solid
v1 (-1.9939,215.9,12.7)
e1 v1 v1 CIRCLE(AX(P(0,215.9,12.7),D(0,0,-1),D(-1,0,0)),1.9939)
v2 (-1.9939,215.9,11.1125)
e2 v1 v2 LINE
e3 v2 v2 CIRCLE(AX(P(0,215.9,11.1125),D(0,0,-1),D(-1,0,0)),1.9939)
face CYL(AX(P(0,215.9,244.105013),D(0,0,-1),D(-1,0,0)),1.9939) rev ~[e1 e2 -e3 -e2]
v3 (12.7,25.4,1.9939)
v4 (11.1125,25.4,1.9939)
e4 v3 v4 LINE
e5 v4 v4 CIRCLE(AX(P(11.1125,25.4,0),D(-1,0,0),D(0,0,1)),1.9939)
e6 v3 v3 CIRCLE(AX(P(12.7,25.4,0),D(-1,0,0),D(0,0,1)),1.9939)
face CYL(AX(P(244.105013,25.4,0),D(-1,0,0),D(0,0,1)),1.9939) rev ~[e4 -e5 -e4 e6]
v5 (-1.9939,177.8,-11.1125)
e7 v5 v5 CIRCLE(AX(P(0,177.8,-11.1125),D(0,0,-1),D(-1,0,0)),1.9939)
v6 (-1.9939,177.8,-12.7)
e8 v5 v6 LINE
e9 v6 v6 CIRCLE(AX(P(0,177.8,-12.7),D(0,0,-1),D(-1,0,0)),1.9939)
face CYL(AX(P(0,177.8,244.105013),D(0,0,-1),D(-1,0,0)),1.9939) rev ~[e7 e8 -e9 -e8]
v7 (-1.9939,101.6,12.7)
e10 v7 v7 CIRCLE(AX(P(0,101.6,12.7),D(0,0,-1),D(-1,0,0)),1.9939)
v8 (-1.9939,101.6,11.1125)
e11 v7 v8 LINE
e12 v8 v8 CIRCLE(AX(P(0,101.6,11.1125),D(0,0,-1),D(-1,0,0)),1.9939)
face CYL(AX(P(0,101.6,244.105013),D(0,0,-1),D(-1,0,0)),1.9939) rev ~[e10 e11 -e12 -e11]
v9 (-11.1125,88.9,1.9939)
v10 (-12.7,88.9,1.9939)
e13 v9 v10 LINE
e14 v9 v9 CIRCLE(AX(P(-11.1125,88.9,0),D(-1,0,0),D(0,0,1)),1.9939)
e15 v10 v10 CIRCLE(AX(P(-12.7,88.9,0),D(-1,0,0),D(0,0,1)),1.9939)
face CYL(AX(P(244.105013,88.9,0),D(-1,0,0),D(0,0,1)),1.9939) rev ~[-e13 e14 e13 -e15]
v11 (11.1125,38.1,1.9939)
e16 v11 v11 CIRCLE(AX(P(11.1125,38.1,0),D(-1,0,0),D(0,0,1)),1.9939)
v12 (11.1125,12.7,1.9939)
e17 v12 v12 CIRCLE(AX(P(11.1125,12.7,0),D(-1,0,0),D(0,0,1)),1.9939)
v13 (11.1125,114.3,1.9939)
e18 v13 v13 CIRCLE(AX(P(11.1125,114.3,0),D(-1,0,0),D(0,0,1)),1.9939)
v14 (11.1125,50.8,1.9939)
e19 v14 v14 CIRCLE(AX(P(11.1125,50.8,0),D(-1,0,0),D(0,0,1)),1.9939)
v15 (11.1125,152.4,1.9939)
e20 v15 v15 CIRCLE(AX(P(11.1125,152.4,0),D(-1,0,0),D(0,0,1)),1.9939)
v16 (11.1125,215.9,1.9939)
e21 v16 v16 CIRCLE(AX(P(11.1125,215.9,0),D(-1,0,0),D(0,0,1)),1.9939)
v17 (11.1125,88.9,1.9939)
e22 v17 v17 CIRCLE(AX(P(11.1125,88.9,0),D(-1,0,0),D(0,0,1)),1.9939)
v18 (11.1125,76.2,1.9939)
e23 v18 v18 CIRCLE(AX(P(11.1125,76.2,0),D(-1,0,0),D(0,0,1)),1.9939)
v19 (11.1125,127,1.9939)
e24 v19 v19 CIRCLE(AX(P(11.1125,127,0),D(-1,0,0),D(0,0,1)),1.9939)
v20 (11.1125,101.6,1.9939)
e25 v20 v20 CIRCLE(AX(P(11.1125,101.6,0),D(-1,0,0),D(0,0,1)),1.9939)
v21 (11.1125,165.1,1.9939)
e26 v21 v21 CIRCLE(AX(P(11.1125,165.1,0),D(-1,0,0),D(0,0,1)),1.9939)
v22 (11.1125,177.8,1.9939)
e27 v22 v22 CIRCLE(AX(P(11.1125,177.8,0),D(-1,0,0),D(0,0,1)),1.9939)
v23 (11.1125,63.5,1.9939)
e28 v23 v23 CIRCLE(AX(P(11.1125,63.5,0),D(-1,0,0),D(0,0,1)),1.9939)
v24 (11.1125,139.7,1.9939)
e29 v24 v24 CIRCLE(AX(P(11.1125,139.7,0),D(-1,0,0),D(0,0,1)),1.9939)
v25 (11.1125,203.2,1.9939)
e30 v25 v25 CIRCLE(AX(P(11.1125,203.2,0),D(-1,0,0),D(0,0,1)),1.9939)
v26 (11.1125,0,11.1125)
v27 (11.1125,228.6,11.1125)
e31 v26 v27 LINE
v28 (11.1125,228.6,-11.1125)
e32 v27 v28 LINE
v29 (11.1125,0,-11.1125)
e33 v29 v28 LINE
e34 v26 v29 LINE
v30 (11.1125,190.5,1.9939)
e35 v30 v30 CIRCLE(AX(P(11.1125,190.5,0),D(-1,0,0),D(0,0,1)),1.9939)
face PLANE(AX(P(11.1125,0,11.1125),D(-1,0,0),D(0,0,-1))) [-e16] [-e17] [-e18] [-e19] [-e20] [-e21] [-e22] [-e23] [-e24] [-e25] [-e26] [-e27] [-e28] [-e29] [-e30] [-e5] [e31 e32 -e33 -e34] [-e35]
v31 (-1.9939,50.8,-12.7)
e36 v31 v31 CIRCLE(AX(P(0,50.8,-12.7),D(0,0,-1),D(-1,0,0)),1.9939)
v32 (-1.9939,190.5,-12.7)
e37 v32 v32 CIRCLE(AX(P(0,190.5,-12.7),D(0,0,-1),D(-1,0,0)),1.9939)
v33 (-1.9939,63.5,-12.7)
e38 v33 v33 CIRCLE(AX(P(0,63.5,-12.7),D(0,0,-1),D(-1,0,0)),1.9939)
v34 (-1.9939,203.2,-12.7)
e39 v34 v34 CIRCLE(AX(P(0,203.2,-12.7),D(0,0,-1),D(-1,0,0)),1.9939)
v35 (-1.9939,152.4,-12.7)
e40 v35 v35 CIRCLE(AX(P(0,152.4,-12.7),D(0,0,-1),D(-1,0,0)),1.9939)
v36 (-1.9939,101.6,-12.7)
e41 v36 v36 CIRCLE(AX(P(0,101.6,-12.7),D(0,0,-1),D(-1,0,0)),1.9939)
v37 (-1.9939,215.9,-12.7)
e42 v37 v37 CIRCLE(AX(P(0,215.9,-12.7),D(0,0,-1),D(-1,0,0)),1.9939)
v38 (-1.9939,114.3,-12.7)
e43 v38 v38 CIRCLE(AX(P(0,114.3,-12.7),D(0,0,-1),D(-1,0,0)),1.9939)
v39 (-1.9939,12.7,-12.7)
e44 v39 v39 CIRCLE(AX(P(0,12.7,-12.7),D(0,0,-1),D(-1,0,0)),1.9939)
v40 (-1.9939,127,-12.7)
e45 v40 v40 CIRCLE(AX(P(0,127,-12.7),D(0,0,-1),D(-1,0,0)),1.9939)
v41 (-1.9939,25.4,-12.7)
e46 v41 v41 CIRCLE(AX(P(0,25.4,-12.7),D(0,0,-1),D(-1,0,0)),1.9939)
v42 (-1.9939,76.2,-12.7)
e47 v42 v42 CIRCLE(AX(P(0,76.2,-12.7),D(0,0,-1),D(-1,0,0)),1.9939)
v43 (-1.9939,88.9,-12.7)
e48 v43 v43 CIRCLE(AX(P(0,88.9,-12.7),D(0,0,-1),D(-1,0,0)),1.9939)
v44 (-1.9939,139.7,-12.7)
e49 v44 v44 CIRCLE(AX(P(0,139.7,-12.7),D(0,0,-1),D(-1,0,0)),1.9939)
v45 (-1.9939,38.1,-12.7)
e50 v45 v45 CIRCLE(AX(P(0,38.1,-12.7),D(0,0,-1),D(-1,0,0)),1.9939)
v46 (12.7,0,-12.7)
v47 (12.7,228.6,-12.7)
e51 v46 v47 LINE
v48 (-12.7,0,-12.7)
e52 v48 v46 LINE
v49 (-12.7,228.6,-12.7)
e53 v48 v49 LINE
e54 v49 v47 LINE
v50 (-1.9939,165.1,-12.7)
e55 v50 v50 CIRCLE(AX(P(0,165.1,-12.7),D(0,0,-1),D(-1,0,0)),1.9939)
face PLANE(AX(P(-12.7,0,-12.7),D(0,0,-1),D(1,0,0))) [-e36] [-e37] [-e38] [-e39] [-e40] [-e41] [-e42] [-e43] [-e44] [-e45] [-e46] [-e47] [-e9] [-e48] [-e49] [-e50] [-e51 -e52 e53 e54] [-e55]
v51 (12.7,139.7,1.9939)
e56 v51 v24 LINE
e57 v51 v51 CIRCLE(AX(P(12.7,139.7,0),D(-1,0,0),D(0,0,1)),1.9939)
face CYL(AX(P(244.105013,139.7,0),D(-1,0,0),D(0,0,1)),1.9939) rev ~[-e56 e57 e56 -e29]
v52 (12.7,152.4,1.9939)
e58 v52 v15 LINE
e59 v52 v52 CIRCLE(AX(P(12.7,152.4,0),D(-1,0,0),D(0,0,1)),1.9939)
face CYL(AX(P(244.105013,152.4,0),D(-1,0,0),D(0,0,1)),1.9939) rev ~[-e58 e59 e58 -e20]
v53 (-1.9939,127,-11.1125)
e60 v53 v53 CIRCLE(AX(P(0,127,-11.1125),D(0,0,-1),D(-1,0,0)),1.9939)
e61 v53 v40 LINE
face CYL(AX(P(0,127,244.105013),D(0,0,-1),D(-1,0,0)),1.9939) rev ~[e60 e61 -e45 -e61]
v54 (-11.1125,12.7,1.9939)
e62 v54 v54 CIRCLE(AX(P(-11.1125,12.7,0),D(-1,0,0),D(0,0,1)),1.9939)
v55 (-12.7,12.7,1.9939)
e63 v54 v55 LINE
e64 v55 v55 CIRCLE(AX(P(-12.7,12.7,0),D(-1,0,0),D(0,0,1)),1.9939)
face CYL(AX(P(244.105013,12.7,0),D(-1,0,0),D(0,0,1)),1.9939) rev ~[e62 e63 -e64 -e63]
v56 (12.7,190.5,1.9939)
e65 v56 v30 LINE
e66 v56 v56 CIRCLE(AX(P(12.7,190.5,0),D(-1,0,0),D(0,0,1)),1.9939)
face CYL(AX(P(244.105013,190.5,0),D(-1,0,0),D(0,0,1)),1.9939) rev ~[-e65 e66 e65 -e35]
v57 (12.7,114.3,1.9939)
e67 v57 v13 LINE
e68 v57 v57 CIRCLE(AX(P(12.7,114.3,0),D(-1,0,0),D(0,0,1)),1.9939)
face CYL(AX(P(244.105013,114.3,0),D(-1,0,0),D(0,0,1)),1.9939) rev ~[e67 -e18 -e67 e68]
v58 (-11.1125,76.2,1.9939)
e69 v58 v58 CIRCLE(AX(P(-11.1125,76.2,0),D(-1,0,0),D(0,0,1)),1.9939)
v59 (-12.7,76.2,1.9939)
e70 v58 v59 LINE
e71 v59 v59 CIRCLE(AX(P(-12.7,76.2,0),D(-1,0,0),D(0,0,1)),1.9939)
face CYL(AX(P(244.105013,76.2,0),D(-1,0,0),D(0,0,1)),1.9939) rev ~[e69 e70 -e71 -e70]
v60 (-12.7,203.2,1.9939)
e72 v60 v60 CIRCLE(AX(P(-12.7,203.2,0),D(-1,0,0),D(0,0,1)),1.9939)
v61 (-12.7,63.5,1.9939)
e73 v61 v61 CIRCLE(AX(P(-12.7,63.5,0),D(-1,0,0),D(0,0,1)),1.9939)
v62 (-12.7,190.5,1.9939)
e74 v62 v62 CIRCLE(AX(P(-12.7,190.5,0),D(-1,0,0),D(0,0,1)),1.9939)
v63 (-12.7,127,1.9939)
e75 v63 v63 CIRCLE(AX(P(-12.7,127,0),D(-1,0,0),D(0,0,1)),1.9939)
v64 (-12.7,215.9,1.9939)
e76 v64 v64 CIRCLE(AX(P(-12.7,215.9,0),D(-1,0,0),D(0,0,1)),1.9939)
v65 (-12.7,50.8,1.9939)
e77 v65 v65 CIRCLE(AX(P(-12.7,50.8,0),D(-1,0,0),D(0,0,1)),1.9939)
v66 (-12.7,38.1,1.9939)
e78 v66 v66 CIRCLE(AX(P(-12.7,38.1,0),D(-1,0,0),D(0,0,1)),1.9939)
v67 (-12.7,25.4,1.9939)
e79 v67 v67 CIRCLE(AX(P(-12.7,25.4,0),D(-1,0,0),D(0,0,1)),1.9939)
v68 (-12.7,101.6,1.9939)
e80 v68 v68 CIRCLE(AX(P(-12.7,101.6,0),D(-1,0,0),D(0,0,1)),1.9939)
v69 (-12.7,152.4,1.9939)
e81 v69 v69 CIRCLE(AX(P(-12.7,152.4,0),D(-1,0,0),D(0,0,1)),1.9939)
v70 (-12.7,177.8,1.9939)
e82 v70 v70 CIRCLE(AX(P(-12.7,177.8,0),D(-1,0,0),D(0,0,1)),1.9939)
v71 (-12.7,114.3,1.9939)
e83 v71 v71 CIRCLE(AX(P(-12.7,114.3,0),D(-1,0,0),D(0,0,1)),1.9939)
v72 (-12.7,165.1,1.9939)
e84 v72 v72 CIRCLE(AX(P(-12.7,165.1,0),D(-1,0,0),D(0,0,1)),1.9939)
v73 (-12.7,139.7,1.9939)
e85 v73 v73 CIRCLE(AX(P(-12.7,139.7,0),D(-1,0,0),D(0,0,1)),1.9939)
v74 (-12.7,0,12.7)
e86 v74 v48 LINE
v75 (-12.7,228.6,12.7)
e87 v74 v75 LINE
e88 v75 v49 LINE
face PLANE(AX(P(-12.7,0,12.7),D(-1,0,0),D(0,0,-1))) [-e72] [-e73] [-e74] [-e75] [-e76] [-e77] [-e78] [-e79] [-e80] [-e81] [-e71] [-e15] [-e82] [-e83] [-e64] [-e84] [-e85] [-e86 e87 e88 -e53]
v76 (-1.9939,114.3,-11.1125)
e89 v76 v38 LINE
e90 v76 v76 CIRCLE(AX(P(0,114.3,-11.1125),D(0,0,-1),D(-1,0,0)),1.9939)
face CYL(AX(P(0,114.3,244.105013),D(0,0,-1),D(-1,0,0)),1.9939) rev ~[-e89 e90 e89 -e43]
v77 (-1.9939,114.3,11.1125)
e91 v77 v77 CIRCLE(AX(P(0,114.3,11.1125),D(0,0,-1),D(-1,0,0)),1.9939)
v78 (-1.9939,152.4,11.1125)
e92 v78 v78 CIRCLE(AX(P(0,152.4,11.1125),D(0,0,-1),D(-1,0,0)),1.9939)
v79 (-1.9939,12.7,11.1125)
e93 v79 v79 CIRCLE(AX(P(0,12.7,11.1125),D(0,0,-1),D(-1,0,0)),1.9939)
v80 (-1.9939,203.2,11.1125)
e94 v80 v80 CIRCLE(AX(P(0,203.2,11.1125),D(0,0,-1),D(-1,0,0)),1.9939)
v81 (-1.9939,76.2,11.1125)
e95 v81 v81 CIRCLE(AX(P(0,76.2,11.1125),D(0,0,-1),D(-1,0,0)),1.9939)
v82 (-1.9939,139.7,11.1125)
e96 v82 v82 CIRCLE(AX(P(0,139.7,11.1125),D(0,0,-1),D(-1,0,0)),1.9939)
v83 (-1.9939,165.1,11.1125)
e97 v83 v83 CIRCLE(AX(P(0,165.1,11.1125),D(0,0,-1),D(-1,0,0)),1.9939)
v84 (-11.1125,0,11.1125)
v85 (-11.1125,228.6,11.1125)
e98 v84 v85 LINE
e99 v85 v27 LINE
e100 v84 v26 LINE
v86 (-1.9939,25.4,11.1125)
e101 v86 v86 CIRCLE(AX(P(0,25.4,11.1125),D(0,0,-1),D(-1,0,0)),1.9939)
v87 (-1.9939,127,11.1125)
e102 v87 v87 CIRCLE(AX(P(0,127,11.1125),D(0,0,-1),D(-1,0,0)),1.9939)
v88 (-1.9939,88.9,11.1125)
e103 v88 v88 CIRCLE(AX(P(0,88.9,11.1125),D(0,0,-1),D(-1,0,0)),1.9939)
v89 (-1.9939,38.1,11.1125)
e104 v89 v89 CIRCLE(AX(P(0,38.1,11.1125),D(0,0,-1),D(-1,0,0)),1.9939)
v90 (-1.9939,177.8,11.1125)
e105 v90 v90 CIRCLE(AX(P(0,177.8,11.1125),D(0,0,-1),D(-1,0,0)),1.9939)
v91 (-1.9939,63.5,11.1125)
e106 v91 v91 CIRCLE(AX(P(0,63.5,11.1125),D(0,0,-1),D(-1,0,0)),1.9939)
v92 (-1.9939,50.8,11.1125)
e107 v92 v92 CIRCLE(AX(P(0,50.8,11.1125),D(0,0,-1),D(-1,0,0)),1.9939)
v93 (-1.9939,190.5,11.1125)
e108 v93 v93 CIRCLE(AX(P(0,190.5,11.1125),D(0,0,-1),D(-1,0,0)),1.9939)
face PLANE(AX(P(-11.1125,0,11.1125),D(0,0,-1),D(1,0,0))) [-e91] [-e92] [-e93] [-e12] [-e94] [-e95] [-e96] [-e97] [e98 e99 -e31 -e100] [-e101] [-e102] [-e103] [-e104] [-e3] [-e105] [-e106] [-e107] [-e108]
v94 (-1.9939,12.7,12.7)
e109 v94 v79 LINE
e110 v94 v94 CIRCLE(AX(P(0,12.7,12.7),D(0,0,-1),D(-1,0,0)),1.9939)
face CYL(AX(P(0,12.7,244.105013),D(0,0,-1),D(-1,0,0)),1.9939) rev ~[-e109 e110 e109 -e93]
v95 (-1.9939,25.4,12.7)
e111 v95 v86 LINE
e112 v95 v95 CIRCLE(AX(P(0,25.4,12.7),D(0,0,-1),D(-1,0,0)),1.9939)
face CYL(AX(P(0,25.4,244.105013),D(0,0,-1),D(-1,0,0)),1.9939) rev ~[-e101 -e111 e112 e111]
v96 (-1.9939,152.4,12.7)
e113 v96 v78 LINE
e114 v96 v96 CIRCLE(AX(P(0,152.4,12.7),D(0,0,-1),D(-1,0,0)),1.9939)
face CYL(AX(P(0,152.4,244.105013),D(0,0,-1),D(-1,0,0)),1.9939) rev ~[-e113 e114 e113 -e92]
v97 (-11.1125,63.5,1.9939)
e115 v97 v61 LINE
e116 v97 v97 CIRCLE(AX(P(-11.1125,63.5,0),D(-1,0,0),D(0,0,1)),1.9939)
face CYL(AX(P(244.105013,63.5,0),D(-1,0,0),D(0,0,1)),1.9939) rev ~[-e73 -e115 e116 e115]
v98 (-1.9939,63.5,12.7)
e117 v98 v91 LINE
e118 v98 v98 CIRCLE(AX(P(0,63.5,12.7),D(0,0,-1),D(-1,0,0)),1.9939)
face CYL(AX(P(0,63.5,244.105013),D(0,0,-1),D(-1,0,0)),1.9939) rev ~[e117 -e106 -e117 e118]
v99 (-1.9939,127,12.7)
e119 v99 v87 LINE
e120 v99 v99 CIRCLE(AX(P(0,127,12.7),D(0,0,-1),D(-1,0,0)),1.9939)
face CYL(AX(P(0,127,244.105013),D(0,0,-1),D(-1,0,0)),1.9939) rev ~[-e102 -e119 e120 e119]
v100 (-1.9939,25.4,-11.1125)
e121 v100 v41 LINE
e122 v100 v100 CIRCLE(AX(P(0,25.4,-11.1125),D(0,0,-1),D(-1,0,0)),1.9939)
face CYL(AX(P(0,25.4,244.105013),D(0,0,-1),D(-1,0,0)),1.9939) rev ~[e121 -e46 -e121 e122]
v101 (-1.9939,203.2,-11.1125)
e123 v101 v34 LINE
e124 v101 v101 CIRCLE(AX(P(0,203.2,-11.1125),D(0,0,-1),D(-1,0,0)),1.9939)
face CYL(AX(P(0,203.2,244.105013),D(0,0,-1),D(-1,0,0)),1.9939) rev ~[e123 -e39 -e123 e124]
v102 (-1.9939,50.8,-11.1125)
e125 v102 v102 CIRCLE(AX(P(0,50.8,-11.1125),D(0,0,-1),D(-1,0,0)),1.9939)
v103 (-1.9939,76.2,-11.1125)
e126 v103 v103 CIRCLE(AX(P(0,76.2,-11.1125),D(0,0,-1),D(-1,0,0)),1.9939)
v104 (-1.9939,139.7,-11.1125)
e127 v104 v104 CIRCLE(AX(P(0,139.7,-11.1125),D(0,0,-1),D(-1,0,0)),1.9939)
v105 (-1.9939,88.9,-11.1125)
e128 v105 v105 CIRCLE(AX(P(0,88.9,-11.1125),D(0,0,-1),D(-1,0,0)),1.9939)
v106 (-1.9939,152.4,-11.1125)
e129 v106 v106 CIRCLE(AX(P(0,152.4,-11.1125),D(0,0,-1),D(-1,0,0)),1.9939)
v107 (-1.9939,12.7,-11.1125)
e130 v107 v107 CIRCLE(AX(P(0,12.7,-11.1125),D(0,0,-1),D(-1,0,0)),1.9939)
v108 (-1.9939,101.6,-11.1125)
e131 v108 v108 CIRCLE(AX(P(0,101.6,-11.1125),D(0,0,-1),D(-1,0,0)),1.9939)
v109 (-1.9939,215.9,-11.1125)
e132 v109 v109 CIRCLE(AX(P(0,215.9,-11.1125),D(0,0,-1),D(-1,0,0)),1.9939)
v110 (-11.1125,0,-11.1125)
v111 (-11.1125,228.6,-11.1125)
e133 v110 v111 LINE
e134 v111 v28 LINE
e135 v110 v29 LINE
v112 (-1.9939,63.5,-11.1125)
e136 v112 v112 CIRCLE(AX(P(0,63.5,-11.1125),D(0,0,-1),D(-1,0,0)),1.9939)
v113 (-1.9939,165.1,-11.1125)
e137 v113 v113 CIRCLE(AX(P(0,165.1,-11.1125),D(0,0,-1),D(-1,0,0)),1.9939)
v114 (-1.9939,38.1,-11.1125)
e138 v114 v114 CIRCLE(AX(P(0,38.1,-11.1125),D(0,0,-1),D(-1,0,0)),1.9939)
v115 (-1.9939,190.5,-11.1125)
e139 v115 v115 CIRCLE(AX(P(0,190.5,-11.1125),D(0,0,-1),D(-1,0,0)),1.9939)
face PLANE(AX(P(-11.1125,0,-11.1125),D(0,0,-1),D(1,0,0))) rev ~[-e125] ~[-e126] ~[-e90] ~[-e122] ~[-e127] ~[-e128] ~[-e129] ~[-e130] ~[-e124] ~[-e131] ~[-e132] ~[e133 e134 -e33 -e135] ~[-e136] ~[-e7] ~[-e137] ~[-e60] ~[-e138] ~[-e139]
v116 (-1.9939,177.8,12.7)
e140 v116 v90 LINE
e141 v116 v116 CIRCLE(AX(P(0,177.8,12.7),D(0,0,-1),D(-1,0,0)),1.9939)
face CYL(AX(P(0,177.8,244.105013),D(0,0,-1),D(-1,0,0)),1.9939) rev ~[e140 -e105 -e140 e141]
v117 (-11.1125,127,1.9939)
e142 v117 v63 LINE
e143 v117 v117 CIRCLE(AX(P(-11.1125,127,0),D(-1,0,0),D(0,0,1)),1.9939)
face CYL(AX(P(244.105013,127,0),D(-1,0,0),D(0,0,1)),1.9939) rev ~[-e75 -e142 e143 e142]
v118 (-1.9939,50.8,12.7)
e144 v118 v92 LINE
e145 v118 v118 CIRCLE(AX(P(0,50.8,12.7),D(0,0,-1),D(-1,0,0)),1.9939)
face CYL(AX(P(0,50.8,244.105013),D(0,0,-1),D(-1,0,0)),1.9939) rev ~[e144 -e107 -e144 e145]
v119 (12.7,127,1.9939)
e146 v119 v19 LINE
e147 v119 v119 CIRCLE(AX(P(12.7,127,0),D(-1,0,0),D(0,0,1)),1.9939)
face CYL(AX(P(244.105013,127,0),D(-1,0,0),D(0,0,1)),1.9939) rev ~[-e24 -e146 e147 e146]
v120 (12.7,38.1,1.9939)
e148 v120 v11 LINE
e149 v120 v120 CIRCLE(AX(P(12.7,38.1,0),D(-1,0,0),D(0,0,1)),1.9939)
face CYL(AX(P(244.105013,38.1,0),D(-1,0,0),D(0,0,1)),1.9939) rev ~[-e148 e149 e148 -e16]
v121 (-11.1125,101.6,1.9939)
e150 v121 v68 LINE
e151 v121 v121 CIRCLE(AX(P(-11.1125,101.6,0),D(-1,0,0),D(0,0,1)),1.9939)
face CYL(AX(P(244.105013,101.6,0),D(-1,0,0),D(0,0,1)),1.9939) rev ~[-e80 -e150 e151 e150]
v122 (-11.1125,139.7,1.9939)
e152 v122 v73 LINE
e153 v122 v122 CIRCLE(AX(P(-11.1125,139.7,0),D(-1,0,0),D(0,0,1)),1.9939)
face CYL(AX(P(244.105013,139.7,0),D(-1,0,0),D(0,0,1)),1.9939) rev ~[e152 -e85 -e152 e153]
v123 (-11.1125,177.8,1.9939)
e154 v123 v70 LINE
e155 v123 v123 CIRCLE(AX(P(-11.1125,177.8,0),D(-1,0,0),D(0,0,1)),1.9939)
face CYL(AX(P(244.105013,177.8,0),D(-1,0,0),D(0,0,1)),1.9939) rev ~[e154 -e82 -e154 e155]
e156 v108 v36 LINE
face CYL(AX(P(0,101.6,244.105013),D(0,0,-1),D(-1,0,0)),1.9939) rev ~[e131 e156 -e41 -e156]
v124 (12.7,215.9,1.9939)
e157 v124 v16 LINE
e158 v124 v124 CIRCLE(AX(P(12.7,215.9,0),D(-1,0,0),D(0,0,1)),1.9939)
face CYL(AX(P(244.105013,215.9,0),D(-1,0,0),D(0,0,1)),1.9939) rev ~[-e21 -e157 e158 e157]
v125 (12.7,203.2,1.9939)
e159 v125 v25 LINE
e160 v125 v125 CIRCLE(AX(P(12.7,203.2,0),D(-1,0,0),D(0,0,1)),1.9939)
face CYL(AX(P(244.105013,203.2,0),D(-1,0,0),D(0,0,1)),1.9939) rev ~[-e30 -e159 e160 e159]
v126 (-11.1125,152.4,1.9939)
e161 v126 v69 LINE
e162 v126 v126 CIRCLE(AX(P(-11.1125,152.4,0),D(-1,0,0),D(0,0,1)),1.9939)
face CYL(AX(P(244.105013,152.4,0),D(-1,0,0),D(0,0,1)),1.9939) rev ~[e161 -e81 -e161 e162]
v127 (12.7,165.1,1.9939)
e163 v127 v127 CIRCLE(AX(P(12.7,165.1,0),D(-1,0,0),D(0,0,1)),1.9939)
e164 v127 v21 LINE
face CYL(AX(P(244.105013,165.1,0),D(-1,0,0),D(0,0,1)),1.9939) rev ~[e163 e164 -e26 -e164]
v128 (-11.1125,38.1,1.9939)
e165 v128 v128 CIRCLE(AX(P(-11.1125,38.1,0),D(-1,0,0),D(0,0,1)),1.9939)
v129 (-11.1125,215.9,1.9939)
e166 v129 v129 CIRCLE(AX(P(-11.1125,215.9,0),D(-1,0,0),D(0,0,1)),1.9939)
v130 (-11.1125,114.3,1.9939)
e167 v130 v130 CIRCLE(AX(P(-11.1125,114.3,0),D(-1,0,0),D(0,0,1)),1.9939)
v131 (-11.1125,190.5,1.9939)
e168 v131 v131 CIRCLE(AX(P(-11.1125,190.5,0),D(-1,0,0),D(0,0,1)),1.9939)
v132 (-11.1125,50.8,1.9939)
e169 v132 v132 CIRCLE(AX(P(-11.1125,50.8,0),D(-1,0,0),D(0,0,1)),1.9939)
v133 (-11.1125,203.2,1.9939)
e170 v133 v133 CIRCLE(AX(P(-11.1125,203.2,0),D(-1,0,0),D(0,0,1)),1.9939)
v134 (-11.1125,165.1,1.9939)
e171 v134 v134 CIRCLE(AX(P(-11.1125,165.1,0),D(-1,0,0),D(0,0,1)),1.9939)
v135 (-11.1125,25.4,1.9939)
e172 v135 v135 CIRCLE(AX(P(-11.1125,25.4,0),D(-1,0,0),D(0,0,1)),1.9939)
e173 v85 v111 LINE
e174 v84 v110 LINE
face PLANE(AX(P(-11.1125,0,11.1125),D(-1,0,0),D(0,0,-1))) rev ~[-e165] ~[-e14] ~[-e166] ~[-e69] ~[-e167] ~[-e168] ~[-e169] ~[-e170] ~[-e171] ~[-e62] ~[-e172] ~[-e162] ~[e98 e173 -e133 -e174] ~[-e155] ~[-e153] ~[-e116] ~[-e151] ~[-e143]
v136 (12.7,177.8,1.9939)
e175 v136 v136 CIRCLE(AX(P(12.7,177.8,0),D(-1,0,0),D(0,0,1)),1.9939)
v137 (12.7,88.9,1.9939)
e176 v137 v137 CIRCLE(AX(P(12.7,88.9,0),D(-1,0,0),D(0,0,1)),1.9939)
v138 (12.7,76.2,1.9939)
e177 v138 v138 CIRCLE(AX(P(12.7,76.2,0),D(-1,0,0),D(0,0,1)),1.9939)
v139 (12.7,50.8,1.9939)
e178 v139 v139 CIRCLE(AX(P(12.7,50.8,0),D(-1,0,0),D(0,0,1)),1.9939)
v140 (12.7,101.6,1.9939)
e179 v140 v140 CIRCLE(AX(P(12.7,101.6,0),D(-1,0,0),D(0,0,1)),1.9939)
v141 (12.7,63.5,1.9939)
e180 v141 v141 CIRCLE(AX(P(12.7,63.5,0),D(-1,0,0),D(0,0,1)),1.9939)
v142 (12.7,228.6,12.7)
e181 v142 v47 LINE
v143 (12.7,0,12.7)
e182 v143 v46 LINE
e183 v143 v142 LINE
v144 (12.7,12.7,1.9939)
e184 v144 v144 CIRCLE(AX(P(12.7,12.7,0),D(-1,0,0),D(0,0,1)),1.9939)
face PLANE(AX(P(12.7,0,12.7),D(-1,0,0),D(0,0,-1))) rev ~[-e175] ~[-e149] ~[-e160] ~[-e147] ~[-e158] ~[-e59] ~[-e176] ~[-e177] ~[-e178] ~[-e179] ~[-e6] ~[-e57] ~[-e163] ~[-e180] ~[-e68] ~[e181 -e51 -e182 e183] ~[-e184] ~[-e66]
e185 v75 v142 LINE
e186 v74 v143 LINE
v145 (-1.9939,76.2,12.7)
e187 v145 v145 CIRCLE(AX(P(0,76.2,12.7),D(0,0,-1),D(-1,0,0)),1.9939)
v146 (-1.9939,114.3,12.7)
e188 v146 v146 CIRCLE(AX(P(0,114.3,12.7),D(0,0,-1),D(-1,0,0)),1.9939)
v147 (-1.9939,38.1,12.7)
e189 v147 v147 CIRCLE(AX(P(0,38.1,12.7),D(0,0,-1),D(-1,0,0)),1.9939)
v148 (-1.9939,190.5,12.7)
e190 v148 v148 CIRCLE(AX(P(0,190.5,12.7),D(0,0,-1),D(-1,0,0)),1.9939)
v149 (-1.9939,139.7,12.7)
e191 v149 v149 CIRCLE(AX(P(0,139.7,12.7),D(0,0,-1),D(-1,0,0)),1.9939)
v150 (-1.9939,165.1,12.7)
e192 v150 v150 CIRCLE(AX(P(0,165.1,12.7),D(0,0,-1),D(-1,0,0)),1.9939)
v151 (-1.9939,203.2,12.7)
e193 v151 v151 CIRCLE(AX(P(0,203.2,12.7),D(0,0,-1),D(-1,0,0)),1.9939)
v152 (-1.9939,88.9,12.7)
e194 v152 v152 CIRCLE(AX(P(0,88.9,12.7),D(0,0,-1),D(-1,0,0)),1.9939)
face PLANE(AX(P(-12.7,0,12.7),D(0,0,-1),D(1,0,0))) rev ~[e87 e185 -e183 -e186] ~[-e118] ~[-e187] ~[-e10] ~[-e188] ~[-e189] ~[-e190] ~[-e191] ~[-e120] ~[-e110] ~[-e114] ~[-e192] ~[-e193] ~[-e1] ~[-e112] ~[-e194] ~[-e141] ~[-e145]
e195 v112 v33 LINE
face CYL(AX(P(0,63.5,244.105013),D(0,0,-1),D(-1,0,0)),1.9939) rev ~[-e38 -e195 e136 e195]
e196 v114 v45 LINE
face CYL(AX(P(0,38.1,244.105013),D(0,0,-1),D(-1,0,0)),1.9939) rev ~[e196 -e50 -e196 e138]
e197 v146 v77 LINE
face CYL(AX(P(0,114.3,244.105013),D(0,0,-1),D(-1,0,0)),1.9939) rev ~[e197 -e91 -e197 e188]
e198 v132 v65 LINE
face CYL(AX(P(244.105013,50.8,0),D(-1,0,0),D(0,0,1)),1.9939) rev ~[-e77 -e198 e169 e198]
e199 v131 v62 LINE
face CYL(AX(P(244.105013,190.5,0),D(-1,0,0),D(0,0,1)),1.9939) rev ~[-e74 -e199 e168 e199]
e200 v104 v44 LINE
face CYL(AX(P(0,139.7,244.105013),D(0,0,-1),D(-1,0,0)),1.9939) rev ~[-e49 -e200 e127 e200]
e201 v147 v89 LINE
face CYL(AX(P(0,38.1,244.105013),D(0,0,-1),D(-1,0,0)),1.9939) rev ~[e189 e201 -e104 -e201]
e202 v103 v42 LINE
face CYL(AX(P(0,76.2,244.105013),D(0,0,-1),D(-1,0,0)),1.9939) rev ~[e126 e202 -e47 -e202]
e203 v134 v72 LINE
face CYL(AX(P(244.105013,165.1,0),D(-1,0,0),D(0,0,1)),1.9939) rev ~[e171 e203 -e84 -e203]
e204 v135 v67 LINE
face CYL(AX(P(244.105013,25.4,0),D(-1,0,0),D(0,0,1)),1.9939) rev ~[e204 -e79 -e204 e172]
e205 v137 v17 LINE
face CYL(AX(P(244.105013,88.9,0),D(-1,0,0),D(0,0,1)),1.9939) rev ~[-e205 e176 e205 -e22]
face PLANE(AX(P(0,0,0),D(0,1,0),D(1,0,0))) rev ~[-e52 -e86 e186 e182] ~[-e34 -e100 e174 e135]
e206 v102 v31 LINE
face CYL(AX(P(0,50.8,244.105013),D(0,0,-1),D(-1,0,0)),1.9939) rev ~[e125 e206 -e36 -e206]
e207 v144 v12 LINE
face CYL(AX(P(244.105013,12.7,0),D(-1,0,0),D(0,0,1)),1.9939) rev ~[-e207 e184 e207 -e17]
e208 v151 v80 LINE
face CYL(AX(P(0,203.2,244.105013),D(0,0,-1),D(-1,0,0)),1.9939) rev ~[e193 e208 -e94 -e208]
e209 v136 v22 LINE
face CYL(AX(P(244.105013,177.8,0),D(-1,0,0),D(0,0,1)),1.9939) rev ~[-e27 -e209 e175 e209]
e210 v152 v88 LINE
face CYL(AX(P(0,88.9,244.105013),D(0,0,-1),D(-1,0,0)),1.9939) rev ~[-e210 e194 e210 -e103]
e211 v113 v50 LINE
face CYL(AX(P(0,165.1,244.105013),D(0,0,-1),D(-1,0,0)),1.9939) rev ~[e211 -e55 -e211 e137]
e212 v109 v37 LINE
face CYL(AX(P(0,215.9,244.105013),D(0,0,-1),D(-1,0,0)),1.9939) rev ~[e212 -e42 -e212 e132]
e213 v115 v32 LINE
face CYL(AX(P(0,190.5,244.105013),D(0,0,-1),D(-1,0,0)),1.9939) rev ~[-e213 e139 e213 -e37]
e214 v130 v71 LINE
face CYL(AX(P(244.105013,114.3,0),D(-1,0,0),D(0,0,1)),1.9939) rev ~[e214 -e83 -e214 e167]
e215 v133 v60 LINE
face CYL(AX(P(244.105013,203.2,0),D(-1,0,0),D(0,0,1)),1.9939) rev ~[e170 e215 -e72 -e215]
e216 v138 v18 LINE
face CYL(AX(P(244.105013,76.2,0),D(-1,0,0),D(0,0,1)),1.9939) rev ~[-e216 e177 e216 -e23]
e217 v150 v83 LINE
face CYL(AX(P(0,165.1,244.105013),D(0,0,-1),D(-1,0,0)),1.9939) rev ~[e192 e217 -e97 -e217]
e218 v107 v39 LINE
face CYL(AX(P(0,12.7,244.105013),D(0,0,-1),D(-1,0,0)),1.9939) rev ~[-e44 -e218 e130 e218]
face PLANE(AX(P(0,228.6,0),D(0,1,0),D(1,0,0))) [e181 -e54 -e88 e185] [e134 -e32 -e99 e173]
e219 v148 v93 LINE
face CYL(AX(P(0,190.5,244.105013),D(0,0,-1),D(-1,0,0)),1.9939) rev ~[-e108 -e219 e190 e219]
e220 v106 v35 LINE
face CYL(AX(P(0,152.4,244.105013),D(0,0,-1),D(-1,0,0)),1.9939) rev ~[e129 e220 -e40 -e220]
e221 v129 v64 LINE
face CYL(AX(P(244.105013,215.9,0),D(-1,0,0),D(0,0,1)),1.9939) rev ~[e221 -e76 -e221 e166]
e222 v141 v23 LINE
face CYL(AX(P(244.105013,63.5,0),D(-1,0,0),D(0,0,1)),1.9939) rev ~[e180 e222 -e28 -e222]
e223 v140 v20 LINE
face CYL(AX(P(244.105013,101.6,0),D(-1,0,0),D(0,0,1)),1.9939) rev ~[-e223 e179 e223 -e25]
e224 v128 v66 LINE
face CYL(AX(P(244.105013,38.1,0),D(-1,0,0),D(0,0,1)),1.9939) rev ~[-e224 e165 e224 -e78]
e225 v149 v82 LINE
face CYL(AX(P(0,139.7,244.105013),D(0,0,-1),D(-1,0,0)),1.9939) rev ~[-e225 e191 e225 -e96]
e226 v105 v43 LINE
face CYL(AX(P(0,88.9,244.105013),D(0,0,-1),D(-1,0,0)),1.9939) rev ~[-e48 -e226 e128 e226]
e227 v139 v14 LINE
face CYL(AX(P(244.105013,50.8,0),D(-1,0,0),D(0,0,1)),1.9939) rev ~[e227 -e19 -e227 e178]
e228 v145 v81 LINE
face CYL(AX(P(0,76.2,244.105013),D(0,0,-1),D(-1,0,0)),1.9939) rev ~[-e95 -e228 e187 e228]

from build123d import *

# Parameters (mm, degrees)
SKETCH1_W                   = 25.4
SKETCH1_H                   = 25.4
SKETCH1_W_2                 = 22.225
SKETCH1_H_2                 = 22.225
BOSS_EXTRUDE1_DEPTH         = 228.6
F_22_0_157_DIAMETER_HOLE1_D = 3.9878
LPATTERN1_COUNT             = 17
LPATTERN1_PITCH             = 12.7
F_22_0_157_DIAMETER_HOLE2_D = 3.9878
LPATTERN2_COUNT             = 17
LPATTERN2_PITCH             = 12.7


with BuildPart() as part:
    # Sketch1 → Boss-Extrude1 (new body)
    with BuildSketch(Plane(origin=(0, 0, 0), x_dir=(1, 0, 0), z_dir=(0, 1, 0))):
        Rectangle(SKETCH1_W, SKETCH1_H)
        Rectangle(SKETCH1_W_2, SKETCH1_H_2, mode=Mode.SUBTRACT)
    extrude(amount=BOSS_EXTRUDE1_DEPTH)

    # #22 (0.157) Diameter Hole1 (through all)
    with Locations(Plane.XY.offset(12.7)):
        with Locations((0, 12.7)):
            f_22_0_157_diameter_hole1 = Hole(F_22_0_157_DIAMETER_HOLE1_D / 2)

    # LPattern1: #22 (0.157) Diameter Hole1 ×17
    with Locations(*[(0, i * LPATTERN1_PITCH, 0) for i in range(1, LPATTERN1_COUNT)]):
        add(f_22_0_157_diameter_hole1, mode=Mode.SUBTRACT)

    # #22 (0.157) Diameter Hole2 (through all)
    with Locations(Plane(origin=(12.7, 0, 0), x_dir=(0, 0, -1), z_dir=(1, 0, 0))):
        with Locations((0, 12.7)):
            f_22_0_157_diameter_hole2 = Hole(F_22_0_157_DIAMETER_HOLE2_D / 2)

    # LPattern2: #22 (0.157) Diameter Hole2 ×17
    with Locations(*[(0, i * LPATTERN2_PITCH, 0) for i in range(1, LPATTERN2_COUNT)]):
        add(f_22_0_157_diameter_hole2, mode=Mode.SUBTRACT)


solid = part.part
